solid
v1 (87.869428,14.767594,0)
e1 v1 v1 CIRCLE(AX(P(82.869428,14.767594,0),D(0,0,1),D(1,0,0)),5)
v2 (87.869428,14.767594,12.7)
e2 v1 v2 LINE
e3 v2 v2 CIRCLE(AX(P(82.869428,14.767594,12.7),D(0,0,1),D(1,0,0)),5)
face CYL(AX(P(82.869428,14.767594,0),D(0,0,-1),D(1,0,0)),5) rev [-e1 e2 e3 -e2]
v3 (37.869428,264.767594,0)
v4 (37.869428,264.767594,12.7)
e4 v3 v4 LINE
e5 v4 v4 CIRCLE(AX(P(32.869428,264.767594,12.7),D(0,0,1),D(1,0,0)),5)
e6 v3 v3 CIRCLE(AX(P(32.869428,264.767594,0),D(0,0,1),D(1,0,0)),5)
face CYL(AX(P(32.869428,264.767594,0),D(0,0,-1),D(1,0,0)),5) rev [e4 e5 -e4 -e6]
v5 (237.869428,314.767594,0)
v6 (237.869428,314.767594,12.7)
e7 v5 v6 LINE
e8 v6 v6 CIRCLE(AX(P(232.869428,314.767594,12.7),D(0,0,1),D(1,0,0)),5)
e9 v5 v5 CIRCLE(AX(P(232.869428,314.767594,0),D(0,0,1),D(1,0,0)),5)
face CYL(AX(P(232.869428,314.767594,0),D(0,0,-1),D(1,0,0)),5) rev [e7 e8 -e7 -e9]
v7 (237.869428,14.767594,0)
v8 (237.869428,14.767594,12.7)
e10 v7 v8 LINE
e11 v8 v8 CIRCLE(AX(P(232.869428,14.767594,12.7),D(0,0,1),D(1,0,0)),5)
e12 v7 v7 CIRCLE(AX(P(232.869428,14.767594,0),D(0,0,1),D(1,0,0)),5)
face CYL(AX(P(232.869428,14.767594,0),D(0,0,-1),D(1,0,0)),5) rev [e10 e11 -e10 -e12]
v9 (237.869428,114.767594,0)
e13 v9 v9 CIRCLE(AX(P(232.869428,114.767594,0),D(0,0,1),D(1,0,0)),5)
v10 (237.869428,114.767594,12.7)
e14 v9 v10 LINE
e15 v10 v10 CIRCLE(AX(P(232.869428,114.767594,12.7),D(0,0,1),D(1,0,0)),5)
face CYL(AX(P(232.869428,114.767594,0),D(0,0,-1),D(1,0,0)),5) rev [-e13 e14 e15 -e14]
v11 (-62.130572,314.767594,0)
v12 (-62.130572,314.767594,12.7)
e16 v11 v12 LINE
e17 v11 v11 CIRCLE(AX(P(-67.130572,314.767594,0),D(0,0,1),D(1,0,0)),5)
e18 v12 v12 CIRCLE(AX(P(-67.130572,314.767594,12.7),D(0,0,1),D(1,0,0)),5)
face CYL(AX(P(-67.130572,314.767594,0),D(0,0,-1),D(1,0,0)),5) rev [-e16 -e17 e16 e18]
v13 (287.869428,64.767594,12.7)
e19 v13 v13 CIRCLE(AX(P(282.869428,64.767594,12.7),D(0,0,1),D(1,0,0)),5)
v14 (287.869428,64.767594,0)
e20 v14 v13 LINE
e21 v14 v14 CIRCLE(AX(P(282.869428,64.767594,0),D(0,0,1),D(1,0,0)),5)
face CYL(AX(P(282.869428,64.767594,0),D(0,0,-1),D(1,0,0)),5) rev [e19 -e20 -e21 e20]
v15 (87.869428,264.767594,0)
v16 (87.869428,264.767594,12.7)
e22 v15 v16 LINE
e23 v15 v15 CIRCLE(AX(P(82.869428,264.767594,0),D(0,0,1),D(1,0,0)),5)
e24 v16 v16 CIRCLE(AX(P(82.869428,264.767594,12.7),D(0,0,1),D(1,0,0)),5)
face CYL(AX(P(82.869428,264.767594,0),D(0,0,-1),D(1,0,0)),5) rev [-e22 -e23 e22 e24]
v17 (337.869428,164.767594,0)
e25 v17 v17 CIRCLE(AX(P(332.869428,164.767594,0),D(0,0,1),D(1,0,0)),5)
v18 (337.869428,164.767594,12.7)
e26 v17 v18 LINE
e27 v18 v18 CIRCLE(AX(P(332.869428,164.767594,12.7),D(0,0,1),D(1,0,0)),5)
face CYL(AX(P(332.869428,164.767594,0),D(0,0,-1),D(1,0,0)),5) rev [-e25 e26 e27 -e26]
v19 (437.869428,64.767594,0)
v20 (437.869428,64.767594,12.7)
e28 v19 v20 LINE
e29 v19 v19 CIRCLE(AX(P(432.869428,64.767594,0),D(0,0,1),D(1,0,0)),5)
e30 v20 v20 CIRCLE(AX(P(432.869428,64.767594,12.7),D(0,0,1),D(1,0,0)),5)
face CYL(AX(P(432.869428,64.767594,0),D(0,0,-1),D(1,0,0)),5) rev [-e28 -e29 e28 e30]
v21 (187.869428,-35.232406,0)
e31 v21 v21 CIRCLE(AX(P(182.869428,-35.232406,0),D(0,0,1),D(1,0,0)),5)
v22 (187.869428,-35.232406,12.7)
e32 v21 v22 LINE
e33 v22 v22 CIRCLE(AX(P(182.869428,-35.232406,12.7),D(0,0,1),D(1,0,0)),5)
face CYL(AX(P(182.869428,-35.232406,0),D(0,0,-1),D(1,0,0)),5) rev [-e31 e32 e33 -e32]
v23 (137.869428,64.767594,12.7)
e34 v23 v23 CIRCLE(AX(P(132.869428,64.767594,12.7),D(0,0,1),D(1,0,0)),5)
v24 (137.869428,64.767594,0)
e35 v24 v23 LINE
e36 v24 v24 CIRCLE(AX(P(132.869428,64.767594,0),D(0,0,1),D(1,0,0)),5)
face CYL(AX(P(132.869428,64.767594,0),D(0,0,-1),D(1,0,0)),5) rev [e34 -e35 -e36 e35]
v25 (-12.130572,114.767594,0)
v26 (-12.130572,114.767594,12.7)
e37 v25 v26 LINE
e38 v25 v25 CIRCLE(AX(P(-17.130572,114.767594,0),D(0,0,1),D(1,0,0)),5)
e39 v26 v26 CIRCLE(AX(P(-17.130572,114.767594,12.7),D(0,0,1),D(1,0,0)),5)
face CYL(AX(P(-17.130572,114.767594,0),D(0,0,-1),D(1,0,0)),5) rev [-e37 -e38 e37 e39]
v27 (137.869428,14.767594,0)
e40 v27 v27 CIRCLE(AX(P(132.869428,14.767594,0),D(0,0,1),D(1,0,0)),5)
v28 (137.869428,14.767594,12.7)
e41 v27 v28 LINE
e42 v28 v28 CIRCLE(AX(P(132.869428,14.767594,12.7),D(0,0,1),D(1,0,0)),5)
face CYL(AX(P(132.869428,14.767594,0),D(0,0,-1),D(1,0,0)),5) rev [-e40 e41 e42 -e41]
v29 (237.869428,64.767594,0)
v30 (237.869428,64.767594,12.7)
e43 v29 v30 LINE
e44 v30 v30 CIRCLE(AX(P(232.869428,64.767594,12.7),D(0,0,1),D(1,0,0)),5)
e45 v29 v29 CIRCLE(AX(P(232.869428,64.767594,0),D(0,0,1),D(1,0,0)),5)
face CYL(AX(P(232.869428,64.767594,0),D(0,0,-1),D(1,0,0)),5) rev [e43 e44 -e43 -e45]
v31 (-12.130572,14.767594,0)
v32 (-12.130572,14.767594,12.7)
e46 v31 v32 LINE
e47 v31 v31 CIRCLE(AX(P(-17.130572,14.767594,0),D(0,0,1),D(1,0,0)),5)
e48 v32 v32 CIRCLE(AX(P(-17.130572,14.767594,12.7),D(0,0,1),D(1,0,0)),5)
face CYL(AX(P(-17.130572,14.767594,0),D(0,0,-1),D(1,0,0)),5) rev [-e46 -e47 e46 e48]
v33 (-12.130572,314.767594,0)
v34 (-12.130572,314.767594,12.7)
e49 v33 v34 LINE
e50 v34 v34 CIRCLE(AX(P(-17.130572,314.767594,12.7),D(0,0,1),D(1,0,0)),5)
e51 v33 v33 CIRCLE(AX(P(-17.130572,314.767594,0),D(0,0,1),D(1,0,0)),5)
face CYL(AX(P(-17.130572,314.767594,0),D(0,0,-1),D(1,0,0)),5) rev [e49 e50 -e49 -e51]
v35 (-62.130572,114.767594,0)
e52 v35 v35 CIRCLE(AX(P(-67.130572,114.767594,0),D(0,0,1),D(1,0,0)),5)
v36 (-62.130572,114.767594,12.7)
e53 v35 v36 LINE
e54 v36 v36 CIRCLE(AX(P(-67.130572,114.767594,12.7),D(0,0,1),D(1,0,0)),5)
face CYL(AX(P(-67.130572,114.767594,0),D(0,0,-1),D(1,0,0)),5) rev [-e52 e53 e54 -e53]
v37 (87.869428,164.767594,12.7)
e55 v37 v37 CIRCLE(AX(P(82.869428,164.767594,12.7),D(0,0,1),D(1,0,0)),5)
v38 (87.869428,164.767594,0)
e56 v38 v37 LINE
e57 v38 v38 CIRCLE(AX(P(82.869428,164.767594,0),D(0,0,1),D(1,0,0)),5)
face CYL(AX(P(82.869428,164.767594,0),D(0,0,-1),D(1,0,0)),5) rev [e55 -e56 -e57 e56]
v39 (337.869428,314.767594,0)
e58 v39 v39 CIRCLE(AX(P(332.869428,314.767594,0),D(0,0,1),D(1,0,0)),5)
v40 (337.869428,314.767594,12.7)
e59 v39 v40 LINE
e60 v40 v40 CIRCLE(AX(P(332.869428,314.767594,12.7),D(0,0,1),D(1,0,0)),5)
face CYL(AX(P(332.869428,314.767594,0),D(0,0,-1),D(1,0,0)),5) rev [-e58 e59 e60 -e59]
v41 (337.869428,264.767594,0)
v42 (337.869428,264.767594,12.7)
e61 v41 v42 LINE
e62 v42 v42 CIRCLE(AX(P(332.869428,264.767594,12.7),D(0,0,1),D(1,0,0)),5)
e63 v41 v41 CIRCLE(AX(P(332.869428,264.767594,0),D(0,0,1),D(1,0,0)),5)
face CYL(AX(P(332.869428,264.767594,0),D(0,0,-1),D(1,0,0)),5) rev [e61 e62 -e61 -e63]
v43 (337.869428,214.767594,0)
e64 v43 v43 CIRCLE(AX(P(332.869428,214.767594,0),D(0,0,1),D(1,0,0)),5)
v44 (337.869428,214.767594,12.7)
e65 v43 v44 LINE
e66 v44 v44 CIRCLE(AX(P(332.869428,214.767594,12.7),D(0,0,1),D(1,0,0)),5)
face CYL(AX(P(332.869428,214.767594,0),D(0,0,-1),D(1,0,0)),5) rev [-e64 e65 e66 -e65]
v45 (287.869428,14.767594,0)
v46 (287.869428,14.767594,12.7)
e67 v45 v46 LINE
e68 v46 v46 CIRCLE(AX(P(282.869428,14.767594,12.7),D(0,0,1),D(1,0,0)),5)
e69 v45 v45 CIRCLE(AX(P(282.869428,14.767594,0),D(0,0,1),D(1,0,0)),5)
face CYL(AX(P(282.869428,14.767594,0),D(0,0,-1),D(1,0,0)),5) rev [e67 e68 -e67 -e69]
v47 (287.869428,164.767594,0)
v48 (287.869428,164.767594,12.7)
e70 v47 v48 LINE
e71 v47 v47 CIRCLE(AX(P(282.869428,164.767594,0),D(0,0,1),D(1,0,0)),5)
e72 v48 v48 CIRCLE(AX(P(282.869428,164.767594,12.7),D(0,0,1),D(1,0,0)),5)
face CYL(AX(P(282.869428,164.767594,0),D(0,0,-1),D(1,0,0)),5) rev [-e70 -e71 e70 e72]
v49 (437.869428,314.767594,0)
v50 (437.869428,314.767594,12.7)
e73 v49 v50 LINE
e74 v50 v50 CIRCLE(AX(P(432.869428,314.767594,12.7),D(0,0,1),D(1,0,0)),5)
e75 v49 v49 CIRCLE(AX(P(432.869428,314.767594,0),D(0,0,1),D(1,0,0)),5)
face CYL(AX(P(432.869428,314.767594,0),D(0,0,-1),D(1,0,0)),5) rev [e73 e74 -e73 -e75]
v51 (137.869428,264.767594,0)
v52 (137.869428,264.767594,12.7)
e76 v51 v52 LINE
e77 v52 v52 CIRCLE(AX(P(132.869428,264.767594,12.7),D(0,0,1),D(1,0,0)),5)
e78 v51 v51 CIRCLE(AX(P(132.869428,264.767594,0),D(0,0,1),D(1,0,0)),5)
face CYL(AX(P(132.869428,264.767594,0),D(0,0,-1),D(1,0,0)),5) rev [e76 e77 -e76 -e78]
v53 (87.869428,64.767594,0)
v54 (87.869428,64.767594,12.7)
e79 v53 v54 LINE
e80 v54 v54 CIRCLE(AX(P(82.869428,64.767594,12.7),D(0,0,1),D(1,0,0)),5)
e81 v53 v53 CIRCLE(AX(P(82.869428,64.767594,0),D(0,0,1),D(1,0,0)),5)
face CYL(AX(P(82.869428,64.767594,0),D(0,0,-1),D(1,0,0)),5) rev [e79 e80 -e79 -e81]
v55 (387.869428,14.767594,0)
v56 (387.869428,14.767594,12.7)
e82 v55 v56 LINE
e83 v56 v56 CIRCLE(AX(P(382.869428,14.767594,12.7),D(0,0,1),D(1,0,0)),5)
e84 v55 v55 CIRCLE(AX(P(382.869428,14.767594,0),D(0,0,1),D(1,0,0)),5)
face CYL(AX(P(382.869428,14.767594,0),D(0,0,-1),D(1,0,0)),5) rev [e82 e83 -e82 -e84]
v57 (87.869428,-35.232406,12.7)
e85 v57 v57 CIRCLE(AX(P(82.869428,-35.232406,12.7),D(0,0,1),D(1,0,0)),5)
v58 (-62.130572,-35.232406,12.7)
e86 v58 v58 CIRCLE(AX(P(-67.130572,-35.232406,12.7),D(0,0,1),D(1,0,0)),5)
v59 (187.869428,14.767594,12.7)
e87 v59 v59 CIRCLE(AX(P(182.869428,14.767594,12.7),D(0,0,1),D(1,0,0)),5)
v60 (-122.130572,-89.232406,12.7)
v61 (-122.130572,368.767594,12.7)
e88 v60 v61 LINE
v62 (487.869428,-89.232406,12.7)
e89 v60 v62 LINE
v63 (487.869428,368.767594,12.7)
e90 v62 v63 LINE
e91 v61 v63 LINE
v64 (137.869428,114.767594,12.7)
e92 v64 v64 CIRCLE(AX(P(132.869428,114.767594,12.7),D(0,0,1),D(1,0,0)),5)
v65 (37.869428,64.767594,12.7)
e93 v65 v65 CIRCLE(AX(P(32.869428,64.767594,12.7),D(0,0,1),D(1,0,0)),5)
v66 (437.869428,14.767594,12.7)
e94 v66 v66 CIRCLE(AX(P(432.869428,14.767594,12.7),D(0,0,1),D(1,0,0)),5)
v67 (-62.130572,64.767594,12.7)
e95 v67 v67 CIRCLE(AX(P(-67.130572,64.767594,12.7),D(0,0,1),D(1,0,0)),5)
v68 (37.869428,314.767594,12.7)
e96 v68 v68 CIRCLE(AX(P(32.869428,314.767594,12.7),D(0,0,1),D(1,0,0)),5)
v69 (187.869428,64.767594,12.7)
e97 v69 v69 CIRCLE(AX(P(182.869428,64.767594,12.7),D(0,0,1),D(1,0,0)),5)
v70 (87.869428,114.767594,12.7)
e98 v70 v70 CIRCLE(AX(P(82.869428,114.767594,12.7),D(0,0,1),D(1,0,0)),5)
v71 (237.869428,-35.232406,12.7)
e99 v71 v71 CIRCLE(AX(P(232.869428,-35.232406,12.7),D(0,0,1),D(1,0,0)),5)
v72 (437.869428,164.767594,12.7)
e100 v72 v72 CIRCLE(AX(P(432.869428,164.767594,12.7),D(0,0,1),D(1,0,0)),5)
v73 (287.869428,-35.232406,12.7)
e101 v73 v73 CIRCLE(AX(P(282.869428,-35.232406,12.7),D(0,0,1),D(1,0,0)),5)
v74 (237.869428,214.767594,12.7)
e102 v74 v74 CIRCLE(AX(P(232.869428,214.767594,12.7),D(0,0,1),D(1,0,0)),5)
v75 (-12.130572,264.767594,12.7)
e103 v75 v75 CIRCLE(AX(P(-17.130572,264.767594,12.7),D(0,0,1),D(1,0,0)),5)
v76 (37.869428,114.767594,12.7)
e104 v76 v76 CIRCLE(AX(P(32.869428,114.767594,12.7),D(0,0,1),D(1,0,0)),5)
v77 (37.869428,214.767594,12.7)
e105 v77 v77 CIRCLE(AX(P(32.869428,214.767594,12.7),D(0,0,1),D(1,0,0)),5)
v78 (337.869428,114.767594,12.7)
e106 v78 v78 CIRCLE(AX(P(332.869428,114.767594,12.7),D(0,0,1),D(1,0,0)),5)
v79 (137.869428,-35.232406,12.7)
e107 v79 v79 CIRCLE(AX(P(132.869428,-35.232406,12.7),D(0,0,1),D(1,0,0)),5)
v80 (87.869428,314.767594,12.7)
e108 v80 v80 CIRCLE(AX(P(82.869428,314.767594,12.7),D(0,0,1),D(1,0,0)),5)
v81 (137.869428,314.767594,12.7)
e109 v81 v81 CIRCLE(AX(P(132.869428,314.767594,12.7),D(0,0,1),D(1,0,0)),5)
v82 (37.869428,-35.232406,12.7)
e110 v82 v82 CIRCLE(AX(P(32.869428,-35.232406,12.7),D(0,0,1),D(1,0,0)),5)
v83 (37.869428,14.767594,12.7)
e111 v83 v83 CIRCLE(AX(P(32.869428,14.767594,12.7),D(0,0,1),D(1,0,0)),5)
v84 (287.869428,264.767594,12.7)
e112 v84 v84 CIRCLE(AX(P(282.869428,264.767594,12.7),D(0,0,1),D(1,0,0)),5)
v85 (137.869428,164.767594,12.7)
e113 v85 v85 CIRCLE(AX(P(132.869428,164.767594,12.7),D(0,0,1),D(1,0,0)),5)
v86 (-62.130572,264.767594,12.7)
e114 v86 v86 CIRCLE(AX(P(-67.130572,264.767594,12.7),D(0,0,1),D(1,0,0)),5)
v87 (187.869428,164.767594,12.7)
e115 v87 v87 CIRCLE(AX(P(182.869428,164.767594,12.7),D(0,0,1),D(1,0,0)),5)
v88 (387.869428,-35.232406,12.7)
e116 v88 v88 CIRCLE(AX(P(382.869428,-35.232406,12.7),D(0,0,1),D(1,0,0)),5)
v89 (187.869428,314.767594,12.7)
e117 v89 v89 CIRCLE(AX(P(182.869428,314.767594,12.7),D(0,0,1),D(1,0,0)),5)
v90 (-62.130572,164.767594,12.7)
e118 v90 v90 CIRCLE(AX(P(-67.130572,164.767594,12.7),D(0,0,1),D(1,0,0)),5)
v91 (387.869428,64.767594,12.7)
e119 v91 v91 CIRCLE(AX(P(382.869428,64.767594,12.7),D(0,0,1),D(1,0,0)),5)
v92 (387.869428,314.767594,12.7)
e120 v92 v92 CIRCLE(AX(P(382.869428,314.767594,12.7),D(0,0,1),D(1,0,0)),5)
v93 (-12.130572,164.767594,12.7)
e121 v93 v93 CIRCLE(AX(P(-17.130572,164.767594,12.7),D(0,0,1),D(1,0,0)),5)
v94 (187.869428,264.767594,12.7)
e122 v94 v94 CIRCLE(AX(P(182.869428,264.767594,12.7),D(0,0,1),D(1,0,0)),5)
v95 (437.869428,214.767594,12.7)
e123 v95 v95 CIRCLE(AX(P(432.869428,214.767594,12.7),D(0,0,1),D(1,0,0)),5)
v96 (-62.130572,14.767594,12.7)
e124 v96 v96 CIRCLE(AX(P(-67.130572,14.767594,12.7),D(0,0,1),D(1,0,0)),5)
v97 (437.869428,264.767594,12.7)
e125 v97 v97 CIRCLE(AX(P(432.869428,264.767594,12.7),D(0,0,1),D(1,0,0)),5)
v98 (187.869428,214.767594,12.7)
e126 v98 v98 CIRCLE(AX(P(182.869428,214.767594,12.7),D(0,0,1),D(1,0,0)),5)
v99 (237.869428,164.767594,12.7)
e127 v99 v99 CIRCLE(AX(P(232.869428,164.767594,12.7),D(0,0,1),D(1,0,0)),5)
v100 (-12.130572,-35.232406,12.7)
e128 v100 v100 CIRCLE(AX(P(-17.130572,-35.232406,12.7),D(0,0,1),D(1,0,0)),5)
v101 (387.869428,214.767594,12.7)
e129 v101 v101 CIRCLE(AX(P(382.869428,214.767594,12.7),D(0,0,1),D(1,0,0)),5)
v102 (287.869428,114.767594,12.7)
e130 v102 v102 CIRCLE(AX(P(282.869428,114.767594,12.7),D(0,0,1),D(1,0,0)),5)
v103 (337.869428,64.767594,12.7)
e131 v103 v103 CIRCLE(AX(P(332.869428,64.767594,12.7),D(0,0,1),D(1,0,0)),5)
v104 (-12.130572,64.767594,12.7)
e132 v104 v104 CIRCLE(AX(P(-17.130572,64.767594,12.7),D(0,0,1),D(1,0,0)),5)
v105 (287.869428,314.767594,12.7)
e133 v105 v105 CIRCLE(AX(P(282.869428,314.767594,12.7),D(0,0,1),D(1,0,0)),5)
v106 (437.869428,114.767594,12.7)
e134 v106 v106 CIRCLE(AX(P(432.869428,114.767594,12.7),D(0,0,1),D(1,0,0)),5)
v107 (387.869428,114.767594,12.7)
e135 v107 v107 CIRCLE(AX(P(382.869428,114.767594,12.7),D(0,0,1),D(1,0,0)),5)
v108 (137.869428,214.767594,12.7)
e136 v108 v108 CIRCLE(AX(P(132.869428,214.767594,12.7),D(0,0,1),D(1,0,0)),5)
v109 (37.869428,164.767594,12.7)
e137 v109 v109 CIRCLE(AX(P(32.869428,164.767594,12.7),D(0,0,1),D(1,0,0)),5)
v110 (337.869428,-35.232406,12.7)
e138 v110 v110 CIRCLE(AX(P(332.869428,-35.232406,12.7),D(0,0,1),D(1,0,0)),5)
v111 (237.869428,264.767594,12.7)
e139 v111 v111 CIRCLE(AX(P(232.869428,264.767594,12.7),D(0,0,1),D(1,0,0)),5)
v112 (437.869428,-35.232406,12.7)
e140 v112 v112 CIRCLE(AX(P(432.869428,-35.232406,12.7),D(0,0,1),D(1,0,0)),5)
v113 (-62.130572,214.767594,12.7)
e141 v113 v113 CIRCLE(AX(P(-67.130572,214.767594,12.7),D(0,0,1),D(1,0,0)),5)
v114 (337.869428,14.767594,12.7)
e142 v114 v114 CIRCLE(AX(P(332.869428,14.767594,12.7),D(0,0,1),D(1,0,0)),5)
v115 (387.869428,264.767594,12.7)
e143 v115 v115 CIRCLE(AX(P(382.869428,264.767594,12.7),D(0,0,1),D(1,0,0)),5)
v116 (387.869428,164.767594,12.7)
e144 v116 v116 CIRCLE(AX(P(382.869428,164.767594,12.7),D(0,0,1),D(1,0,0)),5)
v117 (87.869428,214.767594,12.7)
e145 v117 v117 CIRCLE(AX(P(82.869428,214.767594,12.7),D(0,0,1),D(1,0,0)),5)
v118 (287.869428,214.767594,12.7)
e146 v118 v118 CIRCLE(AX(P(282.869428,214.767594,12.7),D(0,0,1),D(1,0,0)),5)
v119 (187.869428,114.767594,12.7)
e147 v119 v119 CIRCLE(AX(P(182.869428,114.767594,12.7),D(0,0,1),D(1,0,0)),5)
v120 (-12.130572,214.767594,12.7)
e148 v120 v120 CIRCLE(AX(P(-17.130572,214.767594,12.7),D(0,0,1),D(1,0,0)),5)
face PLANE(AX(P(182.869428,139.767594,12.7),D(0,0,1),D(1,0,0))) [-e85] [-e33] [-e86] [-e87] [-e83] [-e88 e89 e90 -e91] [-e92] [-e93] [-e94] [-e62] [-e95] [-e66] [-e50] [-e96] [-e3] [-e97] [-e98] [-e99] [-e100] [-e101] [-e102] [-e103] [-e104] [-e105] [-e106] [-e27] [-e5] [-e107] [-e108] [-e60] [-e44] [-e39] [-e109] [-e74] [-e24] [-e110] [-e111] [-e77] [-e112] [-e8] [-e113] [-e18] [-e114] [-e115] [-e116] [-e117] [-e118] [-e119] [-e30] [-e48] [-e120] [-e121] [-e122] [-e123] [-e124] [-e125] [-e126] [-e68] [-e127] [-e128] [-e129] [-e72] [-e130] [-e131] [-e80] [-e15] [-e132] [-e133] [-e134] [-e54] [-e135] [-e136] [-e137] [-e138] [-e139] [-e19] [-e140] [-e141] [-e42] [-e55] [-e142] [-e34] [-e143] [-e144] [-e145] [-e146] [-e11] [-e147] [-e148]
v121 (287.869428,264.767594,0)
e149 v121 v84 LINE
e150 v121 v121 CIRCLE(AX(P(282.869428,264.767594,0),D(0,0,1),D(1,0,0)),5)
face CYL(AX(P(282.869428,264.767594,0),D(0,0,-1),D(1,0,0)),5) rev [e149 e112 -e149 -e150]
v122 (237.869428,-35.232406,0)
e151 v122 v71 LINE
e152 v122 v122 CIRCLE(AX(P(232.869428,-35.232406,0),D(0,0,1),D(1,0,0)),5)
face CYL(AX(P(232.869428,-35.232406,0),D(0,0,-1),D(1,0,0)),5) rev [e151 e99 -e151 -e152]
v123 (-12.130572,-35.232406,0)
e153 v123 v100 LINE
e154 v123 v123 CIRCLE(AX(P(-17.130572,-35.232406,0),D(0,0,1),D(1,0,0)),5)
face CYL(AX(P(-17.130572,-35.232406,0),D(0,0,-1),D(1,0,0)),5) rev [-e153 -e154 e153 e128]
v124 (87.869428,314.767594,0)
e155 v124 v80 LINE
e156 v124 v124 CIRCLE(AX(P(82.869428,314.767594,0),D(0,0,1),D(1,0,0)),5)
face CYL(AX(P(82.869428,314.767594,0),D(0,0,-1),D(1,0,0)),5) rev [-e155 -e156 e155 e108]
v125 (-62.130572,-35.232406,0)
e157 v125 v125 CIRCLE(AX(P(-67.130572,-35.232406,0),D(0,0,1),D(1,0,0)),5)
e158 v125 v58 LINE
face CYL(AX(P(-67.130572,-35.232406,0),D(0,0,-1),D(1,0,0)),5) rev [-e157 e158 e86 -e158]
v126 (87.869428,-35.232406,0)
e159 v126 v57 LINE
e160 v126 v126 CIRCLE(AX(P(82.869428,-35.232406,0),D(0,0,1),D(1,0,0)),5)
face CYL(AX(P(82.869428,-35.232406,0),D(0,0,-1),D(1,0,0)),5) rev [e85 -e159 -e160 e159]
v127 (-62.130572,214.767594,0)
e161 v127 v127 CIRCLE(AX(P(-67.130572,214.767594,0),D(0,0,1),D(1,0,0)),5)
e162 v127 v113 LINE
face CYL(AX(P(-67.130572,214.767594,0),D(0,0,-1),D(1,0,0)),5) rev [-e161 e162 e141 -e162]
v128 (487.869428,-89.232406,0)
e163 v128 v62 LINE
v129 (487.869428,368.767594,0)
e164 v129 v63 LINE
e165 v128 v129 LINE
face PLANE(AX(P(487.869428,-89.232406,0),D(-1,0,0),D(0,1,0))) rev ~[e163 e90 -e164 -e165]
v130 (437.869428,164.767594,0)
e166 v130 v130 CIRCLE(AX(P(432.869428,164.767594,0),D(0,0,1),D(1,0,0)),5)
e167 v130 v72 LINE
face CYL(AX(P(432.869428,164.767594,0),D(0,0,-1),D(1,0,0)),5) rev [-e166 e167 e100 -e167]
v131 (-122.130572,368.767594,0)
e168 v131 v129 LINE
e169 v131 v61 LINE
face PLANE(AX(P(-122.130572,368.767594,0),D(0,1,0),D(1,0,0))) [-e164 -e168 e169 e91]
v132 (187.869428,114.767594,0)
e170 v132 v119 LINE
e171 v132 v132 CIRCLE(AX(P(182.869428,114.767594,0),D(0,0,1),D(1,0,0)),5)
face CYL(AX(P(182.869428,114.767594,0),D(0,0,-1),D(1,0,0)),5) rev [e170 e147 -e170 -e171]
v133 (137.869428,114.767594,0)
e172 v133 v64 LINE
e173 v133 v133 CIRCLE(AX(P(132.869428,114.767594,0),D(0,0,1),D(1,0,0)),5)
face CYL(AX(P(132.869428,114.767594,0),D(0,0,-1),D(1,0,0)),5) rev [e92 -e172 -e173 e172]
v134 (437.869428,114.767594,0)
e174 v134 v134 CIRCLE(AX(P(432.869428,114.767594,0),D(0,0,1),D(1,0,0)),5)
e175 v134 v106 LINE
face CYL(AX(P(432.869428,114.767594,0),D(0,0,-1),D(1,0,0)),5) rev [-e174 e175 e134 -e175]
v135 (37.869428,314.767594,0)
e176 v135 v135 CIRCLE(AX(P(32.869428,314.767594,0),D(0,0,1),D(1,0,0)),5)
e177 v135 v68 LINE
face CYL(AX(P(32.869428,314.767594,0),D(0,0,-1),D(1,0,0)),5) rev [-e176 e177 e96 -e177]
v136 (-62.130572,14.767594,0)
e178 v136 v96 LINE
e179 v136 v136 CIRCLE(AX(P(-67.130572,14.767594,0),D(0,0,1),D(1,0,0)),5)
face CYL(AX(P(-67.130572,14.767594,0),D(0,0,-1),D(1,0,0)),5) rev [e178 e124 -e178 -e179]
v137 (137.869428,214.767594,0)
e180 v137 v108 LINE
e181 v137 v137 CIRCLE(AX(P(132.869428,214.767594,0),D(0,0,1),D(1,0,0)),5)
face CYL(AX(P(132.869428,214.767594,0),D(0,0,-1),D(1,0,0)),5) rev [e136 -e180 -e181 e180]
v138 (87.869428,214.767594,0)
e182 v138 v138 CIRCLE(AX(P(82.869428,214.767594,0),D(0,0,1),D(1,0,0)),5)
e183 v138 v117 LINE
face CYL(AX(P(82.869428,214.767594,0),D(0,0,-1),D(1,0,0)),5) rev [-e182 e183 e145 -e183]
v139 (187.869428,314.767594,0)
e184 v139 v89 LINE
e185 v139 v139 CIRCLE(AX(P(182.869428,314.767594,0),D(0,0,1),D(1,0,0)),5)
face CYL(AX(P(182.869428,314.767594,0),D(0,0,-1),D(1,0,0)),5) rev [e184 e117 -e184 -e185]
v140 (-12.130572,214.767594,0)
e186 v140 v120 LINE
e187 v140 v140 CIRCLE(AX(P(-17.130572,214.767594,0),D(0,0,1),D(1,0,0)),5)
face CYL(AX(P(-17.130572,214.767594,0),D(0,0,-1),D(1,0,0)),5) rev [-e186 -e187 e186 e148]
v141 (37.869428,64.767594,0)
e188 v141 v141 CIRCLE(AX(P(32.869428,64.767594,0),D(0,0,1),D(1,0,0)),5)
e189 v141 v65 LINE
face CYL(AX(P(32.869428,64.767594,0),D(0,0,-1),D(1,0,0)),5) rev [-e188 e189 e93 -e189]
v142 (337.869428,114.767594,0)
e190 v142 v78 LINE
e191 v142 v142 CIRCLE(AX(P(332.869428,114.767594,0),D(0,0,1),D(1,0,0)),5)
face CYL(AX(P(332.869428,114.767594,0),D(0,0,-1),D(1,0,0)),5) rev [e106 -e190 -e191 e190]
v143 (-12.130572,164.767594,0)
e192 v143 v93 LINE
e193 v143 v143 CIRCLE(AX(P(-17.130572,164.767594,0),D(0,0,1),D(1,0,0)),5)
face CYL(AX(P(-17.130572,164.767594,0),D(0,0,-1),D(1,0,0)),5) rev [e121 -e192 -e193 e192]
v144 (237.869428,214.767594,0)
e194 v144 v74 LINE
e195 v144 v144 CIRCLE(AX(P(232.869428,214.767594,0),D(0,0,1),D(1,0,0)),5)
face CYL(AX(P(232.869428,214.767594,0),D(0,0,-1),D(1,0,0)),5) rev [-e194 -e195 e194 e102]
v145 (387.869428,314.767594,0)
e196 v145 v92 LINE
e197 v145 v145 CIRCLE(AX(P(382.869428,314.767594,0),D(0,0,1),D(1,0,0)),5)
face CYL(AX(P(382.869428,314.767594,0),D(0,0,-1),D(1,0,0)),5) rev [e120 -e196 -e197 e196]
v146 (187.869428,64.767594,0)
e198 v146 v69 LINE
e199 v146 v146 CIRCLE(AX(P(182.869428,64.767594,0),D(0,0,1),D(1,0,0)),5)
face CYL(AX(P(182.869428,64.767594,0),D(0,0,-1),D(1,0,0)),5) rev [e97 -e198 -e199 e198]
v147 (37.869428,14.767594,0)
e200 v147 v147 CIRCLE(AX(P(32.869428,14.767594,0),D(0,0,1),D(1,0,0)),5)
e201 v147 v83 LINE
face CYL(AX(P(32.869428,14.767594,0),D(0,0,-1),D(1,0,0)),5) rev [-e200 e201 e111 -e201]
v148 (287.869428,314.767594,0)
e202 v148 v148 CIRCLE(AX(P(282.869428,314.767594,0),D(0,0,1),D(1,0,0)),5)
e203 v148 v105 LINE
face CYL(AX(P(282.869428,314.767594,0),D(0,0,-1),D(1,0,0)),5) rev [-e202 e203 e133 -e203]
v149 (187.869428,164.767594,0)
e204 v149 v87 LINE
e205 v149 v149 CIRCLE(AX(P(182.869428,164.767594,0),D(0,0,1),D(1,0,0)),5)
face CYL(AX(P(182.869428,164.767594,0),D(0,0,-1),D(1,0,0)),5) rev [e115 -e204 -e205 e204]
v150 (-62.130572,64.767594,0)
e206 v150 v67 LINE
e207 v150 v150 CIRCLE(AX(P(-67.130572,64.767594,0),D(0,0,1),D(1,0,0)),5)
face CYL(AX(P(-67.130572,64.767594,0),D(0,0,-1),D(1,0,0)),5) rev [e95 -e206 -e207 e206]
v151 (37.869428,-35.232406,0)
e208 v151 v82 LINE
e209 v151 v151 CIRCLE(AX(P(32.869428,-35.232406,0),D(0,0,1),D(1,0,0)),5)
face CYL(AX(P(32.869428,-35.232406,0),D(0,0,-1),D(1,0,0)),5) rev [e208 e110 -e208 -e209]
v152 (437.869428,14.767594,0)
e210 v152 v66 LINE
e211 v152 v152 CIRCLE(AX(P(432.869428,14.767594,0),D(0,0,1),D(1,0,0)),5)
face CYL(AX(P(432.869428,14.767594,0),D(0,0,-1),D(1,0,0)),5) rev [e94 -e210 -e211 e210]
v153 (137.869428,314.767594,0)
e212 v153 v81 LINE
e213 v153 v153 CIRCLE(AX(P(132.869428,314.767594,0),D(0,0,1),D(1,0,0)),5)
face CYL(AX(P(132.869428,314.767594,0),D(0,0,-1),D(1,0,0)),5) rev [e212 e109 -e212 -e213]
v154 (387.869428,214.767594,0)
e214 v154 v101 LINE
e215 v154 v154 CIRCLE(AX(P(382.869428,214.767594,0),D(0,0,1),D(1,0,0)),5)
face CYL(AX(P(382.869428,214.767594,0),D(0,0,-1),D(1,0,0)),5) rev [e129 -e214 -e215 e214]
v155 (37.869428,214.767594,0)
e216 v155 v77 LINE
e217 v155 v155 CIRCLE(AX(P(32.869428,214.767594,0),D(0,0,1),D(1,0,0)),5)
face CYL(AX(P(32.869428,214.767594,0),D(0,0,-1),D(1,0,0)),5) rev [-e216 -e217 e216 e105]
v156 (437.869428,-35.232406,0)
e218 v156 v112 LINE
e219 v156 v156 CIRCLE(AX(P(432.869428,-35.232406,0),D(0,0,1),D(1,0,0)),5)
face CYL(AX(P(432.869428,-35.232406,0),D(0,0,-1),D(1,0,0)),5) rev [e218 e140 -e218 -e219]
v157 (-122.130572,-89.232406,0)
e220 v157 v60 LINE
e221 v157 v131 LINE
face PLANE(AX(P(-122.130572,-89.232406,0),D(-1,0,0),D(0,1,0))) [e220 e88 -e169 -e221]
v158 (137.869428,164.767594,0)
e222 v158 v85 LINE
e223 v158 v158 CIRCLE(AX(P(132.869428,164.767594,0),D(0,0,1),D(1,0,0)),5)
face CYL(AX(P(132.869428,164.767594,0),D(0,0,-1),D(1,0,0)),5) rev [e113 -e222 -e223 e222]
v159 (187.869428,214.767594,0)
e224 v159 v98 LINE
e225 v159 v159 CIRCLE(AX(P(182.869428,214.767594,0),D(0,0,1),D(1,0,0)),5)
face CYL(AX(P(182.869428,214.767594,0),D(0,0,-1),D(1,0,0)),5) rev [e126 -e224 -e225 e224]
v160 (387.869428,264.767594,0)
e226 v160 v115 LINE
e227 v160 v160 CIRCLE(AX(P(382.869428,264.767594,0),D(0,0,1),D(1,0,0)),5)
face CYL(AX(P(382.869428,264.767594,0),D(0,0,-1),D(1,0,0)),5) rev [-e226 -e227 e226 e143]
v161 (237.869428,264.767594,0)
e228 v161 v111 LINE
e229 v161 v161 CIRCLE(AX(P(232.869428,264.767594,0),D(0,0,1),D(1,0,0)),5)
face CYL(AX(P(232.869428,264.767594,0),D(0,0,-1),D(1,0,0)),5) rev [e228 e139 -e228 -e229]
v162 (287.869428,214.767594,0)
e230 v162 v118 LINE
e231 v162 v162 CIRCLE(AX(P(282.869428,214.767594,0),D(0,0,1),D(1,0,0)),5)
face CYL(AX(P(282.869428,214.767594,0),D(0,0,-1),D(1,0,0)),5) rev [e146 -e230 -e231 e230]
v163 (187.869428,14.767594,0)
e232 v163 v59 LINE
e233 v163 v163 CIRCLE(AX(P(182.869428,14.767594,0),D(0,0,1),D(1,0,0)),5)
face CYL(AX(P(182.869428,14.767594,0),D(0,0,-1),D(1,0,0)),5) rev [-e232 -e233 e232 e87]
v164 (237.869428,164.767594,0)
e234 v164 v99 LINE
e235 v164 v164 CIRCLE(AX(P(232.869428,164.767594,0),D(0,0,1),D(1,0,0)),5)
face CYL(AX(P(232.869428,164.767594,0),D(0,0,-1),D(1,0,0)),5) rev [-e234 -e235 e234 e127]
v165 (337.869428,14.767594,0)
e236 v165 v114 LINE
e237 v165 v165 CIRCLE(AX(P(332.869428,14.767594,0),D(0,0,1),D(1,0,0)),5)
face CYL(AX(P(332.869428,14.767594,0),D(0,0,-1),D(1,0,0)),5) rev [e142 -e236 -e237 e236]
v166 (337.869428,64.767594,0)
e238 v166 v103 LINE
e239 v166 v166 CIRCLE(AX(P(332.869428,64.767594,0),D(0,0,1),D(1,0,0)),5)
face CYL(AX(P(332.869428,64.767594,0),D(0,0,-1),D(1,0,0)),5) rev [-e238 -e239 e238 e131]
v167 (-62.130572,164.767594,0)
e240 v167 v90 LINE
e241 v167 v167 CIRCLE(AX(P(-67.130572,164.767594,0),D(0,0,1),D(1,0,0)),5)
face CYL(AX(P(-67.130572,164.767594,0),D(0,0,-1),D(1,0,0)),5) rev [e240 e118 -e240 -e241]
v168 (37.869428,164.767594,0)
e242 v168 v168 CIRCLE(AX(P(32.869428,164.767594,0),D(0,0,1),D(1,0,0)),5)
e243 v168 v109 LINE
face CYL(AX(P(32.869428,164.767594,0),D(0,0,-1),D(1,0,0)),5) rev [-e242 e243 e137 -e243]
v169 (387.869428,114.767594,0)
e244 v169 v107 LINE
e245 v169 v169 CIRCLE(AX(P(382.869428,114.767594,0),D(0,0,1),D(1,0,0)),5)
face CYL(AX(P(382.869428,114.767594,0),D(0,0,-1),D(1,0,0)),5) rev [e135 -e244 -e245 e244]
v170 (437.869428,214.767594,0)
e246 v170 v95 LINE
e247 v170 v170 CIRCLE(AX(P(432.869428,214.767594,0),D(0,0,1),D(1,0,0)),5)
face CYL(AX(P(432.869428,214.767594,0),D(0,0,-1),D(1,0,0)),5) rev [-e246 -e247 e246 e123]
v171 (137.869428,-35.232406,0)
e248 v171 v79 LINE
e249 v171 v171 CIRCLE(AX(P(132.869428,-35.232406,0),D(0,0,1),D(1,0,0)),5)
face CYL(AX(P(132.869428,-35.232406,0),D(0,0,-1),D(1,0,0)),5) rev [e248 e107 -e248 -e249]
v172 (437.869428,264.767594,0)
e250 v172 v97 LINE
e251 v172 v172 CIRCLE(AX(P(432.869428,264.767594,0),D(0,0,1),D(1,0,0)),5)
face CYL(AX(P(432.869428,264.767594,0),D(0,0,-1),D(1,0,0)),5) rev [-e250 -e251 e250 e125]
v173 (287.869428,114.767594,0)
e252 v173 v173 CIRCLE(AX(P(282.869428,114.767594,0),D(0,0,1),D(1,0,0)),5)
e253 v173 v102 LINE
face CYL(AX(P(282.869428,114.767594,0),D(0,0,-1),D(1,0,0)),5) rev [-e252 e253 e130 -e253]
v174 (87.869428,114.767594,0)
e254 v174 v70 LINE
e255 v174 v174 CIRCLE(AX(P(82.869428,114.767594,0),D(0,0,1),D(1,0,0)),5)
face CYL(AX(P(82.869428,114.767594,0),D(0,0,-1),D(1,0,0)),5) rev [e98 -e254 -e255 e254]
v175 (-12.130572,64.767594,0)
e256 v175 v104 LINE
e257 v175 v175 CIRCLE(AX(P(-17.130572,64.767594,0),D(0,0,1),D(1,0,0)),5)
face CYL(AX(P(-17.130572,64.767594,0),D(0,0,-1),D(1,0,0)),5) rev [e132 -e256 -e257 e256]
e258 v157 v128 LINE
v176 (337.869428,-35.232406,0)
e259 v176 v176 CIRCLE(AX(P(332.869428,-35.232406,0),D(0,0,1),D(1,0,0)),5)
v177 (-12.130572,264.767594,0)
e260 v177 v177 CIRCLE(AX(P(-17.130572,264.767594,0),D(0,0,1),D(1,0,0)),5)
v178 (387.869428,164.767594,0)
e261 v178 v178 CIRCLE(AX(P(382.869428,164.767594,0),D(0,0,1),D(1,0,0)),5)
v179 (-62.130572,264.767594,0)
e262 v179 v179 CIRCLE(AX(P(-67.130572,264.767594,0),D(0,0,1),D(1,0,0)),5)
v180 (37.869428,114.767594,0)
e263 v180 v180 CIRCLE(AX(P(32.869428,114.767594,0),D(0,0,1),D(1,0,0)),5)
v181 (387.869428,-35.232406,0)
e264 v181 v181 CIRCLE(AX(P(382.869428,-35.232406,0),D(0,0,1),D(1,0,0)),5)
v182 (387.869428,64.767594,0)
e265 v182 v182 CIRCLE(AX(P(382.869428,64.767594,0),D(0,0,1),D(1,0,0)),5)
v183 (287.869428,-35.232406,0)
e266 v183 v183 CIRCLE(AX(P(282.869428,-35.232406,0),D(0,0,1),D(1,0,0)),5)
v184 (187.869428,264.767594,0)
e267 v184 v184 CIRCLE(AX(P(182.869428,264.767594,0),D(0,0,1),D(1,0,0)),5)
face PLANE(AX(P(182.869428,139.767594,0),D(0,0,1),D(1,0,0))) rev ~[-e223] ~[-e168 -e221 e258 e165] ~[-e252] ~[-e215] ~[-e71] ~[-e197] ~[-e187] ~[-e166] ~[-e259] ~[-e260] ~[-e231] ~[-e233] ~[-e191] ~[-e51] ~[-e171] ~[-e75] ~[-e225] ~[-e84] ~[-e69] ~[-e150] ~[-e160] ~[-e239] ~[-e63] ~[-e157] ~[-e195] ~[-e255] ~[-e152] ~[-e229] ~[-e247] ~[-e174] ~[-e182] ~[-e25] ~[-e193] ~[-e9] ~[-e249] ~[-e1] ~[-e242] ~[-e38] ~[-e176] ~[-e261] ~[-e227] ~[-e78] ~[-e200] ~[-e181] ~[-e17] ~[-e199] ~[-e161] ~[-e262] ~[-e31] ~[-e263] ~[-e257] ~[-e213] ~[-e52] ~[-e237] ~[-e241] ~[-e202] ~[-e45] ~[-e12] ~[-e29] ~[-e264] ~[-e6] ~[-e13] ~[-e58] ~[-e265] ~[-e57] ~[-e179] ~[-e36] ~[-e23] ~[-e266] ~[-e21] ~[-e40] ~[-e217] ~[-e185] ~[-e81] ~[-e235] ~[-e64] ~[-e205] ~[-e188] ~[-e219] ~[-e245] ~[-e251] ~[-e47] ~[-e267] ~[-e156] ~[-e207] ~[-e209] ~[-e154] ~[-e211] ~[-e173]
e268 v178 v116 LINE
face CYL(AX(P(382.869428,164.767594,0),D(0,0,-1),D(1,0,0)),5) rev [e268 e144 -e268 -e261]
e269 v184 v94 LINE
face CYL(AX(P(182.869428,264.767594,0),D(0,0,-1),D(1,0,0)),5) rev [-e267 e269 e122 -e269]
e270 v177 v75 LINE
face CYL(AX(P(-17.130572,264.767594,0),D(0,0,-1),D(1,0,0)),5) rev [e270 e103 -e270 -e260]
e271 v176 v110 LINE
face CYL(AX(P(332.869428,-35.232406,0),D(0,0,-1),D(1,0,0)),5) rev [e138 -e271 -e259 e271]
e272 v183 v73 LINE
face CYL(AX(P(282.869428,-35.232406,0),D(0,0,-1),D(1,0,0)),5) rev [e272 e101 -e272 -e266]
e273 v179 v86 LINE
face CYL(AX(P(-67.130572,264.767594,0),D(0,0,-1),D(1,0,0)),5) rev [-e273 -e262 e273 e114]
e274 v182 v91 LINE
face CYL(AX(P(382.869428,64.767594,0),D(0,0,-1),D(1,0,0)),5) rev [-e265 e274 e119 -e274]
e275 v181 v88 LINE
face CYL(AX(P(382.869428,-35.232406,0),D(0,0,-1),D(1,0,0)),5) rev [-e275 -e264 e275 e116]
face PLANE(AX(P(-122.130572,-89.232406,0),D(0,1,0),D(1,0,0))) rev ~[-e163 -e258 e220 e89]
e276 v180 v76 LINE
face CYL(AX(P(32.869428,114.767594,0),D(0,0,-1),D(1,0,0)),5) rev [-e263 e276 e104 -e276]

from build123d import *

# Parameters (mm, degrees)
ESBO_O2_W                = 610
ESBO_O2_H                = 458
ESBO_O2_R                = 5
RESSALTO_EXTRUS_O2_DEPTH = 12.7


with BuildPart() as part:
    # Esboço2 → Ressalto-extrusão2 (new body)
    with BuildSketch(Plane.XY):
        with Locations((182.869428212, 139.767594323)):
            Rectangle(ESBO_O2_W, ESBO_O2_H)
        with Locations((-67.130571788, -35.232405677)):
            Circle(ESBO_O2_R, mode=Mode.SUBTRACT)
        with Locations((-17.130571788, -35.232405677)):
            Circle(ESBO_O2_R, mode=Mode.SUBTRACT)
        with Locations((32.869428212, -35.232405677)):
            Circle(ESBO_O2_R, mode=Mode.SUBTRACT)
        with Locations((82.869428212, -35.232405677)):
            Circle(ESBO_O2_R, mode=Mode.SUBTRACT)
        with Locations((132.869428212, -35.232405677)):
            Circle(ESBO_O2_R, mode=Mode.SUBTRACT)
        with Locations((182.869428212, -35.232405677)):
            Circle(ESBO_O2_R, mode=Mode.SUBTRACT)
        with Locations((232.869428212, -35.232405677)):
            Circle(ESBO_O2_R, mode=Mode.SUBTRACT)
        with Locations((282.869428212, -35.232405677)):
            Circle(ESBO_O2_R, mode=Mode.SUBTRACT)
        with Locations((332.869428212, -35.232405677)):
            Circle(ESBO_O2_R, mode=Mode.SUBTRACT)
        with Locations((382.869428212, -35.232405677)):
            Circle(ESBO_O2_R, mode=Mode.SUBTRACT)
        with Locations((432.869428212, -35.232405677)):
            Circle(ESBO_O2_R, mode=Mode.SUBTRACT)
        with Locations((-17.130571788, 14.767594323)):
            Circle(ESBO_O2_R, mode=Mode.SUBTRACT)
        with Locations((32.869428212, 14.767594323)):
            Circle(ESBO_O2_R, mode=Mode.SUBTRACT)
        with Locations((82.869428212, 14.767594323)):
            Circle(ESBO_O2_R, mode=Mode.SUBTRACT)
        with Locations((132.869428212, 14.767594323)):
            Circle(ESBO_O2_R, mode=Mode.SUBTRACT)
        with Locations((182.869428212, 14.767594323)):
            Circle(ESBO_O2_R, mode=Mode.SUBTRACT)
        with Locations((232.869428212, 14.767594323)):
            Circle(ESBO_O2_R, mode=Mode.SUBTRACT)
        with Locations((282.869428212, 14.767594323)):
            Circle(ESBO_O2_R, mode=Mode.SUBTRACT)
        with Locations((332.869428212, 14.767594323)):
            Circle(ESBO_O2_R, mode=Mode.SUBTRACT)
        with Locations((382.869428212, 14.767594323)):
            Circle(ESBO_O2_R, mode=Mode.SUBTRACT)
        with Locations((432.869428212, 14.767594323)):
            Circle(ESBO_O2_R, mode=Mode.SUBTRACT)
        with Locations((-17.130571788, 64.767594323)):
            Circle(ESBO_O2_R, mode=Mode.SUBTRACT)
        with Locations((32.869428212, 64.767594323)):
            Circle(ESBO_O2_R, mode=Mode.SUBTRACT)
        with Locations((82.869428212, 64.767594323)):
            Circle(ESBO_O2_R, mode=Mode.SUBTRACT)
        with Locations((132.869428212, 64.767594323)):
            Circle(ESBO_O2_R, mode=Mode.SUBTRACT)
        with Locations((182.869428212, 64.767594323)):
            Circle(ESBO_O2_R, mode=Mode.SUBTRACT)
        with Locations((232.869428212, 64.767594323)):
            Circle(ESBO_O2_R, mode=Mode.SUBTRACT)
        with Locations((282.869428212, 64.767594323)):
            Circle(ESBO_O2_R, mode=Mode.SUBTRACT)
        with Locations((332.869428212, 64.767594323)):
            Circle(ESBO_O2_R, mode=Mode.SUBTRACT)
        with Locations((382.869428212, 64.767594323)):
            Circle(ESBO_O2_R, mode=Mode.SUBTRACT)
        with Locations((432.869428212, 64.767594323)):
            Circle(ESBO_O2_R, mode=Mode.SUBTRACT)
        with Locations((-17.130571788, 114.767594323)):
            Circle(ESBO_O2_R, mode=Mode.SUBTRACT)
        with Locations((32.869428212, 114.767594323)):
            Circle(ESBO_O2_R, mode=Mode.SUBTRACT)
        with Locations((82.869428212, 114.767594323)):
            Circle(ESBO_O2_R, mode=Mode.SUBTRACT)
        with Locations((132.869428212, 114.767594323)):
            Circle(ESBO_O2_R, mode=Mode.SUBTRACT)
        with Locations((182.869428212, 114.767594323)):
            Circle(ESBO_O2_R, mode=Mode.SUBTRACT)
        with Locations((232.869428212, 114.767594323)):
            Circle(ESBO_O2_R, mode=Mode.SUBTRACT)
        with Locations((282.869428212, 114.767594323)):
            Circle(ESBO_O2_R, mode=Mode.SUBTRACT)
        with Locations((332.869428212, 114.767594323)):
            Circle(ESBO_O2_R, mode=Mode.SUBTRACT)
        with Locations((382.869428212, 114.767594323)):
            Circle(ESBO_O2_R, mode=Mode.SUBTRACT)
        with Locations((432.869428212, 114.767594323)):
            Circle(ESBO_O2_R, mode=Mode.SUBTRACT)
        with Locations((-17.130571788, 164.767594323)):
            Circle(ESBO_O2_R, mode=Mode.SUBTRACT)
        with Locations((32.869428212, 164.767594323)):
            Circle(ESBO_O2_R, mode=Mode.SUBTRACT)
        with Locations((82.869428212, 164.767594323)):
            Circle(ESBO_O2_R, mode=Mode.SUBTRACT)
        with Locations((132.869428212, 164.767594323)):
            Circle(ESBO_O2_R, mode=Mode.SUBTRACT)
        with Locations((182.869428212, 164.767594323)):
            Circle(ESBO_O2_R, mode=Mode.SUBTRACT)
        with Locations((232.869428212, 164.767594323)):
            Circle(ESBO_O2_R, mode=Mode.SUBTRACT)
        with Locations((282.869428212, 164.767594323)):
            Circle(ESBO_O2_R, mode=Mode.SUBTRACT)
        with Locations((332.869428212, 164.767594323)):
            Circle(ESBO_O2_R, mode=Mode.SUBTRACT)
        with Locations((382.869428212, 164.767594323)):
            Circle(ESBO_O2_R, mode=Mode.SUBTRACT)
        with Locations((432.869428212, 164.767594323)):
            Circle(ESBO_O2_R, mode=Mode.SUBTRACT)
        with Locations((-17.130571788, 214.767594323)):
            Circle(ESBO_O2_R, mode=Mode.SUBTRACT)
        with Locations((32.869428212, 214.767594323)):
            Circle(ESBO_O2_R, mode=Mode.SUBTRACT)
        with Locations((82.869428212, 214.767594323)):
            Circle(ESBO_O2_R, mode=Mode.SUBTRACT)
        with Locations((132.869428212, 214.767594323)):
            Circle(ESBO_O2_R, mode=Mode.SUBTRACT)
        with Locations((182.869428212, 214.767594323)):
            Circle(ESBO_O2_R, mode=Mode.SUBTRACT)
        with Locations((232.869428212, 214.767594323)):
            Circle(ESBO_O2_R, mode=Mode.SUBTRACT)
        with Locations((282.869428212, 214.767594323)):
            Circle(ESBO_O2_R, mode=Mode.SUBTRACT)
        with Locations((332.869428212, 214.767594323)):
            Circle(ESBO_O2_R, mode=Mode.SUBTRACT)
        with Locations((382.869428212, 214.767594323)):
            Circle(ESBO_O2_R, mode=Mode.SUBTRACT)
        with Locations((432.869428212, 214.767594323)):
            Circle(ESBO_O2_R, mode=Mode.SUBTRACT)
        with Locations((-17.130571788, 264.767594323)):
            Circle(ESBO_O2_R, mode=Mode.SUBTRACT)
        with Locations((32.869428212, 264.767594323)):
            Circle(ESBO_O2_R, mode=Mode.SUBTRACT)
        with Locations((82.869428212, 264.767594323)):
            Circle(ESBO_O2_R, mode=Mode.SUBTRACT)
        with Locations((132.869428212, 264.767594323)):
            Circle(ESBO_O2_R, mode=Mode.SUBTRACT)
        with Locations((182.869428212, 264.767594323)):
            Circle(ESBO_O2_R, mode=Mode.SUBTRACT)
        with Locations((232.869428212, 264.767594323)):
            Circle(ESBO_O2_R, mode=Mode.SUBTRACT)
        with Locations((282.869428212, 264.767594323)):
            Circle(ESBO_O2_R, mode=Mode.SUBTRACT)
        with Locations((332.869428212, 264.767594323)):
            Circle(ESBO_O2_R, mode=Mode.SUBTRACT)
        with Locations((382.869428212, 264.767594323)):
            Circle(ESBO_O2_R, mode=Mode.SUBTRACT)
        with Locations((432.869428212, 264.767594323)):
            Circle(ESBO_O2_R, mode=Mode.SUBTRACT)
        with Locations((-17.130571788, 314.767594323)):
            Circle(ESBO_O2_R, mode=Mode.SUBTRACT)
        with Locations((32.869428212, 314.767594323)):
            Circle(ESBO_O2_R, mode=Mode.SUBTRACT)
        with Locations((82.869428212, 314.767594323)):
            Circle(ESBO_O2_R, mode=Mode.SUBTRACT)
        with Locations((132.869428212, 314.767594323)):
            Circle(ESBO_O2_R, mode=Mode.SUBTRACT)
        with Locations((182.869428212, 314.767594323)):
            Circle(ESBO_O2_R, mode=Mode.SUBTRACT)
        with Locations((232.869428212, 314.767594323)):
            Circle(ESBO_O2_R, mode=Mode.SUBTRACT)
        with Locations((282.869428212, 314.767594323)):
            Circle(ESBO_O2_R, mode=Mode.SUBTRACT)
        with Locations((332.869428212, 314.767594323)):
            Circle(ESBO_O2_R, mode=Mode.SUBTRACT)
        with Locations((382.869428212, 314.767594323)):
            Circle(ESBO_O2_R, mode=Mode.SUBTRACT)
        with Locations((432.869428212, 314.767594323)):
            Circle(ESBO_O2_R, mode=Mode.SUBTRACT)
        with Locations((-67.130571788, 14.767594323)):
            Circle(ESBO_O2_R, mode=Mode.SUBTRACT)
        with Locations((-67.130571788, 64.767594323)):
            Circle(ESBO_O2_R, mode=Mode.SUBTRACT)
        with Locations((-67.130571788, 114.767594323)):
            Circle(ESBO_O2_R, mode=Mode.SUBTRACT)
        with Locations((-67.130571788, 164.767594323)):
            Circle(ESBO_O2_R, mode=Mode.SUBTRACT)
        with Locations((-67.130571788, 214.767594323)):
            Circle(ESBO_O2_R, mode=Mode.SUBTRACT)
        with Locations((-67.130571788, 264.767594323)):
            Circle(ESBO_O2_R, mode=Mode.SUBTRACT)
        with Locations((-67.130571788, 314.767594323)):
            Circle(ESBO_O2_R, mode=Mode.SUBTRACT)
    extrude(amount=RESSALTO_EXTRUS_O2_DEPTH)


solid = part.part
